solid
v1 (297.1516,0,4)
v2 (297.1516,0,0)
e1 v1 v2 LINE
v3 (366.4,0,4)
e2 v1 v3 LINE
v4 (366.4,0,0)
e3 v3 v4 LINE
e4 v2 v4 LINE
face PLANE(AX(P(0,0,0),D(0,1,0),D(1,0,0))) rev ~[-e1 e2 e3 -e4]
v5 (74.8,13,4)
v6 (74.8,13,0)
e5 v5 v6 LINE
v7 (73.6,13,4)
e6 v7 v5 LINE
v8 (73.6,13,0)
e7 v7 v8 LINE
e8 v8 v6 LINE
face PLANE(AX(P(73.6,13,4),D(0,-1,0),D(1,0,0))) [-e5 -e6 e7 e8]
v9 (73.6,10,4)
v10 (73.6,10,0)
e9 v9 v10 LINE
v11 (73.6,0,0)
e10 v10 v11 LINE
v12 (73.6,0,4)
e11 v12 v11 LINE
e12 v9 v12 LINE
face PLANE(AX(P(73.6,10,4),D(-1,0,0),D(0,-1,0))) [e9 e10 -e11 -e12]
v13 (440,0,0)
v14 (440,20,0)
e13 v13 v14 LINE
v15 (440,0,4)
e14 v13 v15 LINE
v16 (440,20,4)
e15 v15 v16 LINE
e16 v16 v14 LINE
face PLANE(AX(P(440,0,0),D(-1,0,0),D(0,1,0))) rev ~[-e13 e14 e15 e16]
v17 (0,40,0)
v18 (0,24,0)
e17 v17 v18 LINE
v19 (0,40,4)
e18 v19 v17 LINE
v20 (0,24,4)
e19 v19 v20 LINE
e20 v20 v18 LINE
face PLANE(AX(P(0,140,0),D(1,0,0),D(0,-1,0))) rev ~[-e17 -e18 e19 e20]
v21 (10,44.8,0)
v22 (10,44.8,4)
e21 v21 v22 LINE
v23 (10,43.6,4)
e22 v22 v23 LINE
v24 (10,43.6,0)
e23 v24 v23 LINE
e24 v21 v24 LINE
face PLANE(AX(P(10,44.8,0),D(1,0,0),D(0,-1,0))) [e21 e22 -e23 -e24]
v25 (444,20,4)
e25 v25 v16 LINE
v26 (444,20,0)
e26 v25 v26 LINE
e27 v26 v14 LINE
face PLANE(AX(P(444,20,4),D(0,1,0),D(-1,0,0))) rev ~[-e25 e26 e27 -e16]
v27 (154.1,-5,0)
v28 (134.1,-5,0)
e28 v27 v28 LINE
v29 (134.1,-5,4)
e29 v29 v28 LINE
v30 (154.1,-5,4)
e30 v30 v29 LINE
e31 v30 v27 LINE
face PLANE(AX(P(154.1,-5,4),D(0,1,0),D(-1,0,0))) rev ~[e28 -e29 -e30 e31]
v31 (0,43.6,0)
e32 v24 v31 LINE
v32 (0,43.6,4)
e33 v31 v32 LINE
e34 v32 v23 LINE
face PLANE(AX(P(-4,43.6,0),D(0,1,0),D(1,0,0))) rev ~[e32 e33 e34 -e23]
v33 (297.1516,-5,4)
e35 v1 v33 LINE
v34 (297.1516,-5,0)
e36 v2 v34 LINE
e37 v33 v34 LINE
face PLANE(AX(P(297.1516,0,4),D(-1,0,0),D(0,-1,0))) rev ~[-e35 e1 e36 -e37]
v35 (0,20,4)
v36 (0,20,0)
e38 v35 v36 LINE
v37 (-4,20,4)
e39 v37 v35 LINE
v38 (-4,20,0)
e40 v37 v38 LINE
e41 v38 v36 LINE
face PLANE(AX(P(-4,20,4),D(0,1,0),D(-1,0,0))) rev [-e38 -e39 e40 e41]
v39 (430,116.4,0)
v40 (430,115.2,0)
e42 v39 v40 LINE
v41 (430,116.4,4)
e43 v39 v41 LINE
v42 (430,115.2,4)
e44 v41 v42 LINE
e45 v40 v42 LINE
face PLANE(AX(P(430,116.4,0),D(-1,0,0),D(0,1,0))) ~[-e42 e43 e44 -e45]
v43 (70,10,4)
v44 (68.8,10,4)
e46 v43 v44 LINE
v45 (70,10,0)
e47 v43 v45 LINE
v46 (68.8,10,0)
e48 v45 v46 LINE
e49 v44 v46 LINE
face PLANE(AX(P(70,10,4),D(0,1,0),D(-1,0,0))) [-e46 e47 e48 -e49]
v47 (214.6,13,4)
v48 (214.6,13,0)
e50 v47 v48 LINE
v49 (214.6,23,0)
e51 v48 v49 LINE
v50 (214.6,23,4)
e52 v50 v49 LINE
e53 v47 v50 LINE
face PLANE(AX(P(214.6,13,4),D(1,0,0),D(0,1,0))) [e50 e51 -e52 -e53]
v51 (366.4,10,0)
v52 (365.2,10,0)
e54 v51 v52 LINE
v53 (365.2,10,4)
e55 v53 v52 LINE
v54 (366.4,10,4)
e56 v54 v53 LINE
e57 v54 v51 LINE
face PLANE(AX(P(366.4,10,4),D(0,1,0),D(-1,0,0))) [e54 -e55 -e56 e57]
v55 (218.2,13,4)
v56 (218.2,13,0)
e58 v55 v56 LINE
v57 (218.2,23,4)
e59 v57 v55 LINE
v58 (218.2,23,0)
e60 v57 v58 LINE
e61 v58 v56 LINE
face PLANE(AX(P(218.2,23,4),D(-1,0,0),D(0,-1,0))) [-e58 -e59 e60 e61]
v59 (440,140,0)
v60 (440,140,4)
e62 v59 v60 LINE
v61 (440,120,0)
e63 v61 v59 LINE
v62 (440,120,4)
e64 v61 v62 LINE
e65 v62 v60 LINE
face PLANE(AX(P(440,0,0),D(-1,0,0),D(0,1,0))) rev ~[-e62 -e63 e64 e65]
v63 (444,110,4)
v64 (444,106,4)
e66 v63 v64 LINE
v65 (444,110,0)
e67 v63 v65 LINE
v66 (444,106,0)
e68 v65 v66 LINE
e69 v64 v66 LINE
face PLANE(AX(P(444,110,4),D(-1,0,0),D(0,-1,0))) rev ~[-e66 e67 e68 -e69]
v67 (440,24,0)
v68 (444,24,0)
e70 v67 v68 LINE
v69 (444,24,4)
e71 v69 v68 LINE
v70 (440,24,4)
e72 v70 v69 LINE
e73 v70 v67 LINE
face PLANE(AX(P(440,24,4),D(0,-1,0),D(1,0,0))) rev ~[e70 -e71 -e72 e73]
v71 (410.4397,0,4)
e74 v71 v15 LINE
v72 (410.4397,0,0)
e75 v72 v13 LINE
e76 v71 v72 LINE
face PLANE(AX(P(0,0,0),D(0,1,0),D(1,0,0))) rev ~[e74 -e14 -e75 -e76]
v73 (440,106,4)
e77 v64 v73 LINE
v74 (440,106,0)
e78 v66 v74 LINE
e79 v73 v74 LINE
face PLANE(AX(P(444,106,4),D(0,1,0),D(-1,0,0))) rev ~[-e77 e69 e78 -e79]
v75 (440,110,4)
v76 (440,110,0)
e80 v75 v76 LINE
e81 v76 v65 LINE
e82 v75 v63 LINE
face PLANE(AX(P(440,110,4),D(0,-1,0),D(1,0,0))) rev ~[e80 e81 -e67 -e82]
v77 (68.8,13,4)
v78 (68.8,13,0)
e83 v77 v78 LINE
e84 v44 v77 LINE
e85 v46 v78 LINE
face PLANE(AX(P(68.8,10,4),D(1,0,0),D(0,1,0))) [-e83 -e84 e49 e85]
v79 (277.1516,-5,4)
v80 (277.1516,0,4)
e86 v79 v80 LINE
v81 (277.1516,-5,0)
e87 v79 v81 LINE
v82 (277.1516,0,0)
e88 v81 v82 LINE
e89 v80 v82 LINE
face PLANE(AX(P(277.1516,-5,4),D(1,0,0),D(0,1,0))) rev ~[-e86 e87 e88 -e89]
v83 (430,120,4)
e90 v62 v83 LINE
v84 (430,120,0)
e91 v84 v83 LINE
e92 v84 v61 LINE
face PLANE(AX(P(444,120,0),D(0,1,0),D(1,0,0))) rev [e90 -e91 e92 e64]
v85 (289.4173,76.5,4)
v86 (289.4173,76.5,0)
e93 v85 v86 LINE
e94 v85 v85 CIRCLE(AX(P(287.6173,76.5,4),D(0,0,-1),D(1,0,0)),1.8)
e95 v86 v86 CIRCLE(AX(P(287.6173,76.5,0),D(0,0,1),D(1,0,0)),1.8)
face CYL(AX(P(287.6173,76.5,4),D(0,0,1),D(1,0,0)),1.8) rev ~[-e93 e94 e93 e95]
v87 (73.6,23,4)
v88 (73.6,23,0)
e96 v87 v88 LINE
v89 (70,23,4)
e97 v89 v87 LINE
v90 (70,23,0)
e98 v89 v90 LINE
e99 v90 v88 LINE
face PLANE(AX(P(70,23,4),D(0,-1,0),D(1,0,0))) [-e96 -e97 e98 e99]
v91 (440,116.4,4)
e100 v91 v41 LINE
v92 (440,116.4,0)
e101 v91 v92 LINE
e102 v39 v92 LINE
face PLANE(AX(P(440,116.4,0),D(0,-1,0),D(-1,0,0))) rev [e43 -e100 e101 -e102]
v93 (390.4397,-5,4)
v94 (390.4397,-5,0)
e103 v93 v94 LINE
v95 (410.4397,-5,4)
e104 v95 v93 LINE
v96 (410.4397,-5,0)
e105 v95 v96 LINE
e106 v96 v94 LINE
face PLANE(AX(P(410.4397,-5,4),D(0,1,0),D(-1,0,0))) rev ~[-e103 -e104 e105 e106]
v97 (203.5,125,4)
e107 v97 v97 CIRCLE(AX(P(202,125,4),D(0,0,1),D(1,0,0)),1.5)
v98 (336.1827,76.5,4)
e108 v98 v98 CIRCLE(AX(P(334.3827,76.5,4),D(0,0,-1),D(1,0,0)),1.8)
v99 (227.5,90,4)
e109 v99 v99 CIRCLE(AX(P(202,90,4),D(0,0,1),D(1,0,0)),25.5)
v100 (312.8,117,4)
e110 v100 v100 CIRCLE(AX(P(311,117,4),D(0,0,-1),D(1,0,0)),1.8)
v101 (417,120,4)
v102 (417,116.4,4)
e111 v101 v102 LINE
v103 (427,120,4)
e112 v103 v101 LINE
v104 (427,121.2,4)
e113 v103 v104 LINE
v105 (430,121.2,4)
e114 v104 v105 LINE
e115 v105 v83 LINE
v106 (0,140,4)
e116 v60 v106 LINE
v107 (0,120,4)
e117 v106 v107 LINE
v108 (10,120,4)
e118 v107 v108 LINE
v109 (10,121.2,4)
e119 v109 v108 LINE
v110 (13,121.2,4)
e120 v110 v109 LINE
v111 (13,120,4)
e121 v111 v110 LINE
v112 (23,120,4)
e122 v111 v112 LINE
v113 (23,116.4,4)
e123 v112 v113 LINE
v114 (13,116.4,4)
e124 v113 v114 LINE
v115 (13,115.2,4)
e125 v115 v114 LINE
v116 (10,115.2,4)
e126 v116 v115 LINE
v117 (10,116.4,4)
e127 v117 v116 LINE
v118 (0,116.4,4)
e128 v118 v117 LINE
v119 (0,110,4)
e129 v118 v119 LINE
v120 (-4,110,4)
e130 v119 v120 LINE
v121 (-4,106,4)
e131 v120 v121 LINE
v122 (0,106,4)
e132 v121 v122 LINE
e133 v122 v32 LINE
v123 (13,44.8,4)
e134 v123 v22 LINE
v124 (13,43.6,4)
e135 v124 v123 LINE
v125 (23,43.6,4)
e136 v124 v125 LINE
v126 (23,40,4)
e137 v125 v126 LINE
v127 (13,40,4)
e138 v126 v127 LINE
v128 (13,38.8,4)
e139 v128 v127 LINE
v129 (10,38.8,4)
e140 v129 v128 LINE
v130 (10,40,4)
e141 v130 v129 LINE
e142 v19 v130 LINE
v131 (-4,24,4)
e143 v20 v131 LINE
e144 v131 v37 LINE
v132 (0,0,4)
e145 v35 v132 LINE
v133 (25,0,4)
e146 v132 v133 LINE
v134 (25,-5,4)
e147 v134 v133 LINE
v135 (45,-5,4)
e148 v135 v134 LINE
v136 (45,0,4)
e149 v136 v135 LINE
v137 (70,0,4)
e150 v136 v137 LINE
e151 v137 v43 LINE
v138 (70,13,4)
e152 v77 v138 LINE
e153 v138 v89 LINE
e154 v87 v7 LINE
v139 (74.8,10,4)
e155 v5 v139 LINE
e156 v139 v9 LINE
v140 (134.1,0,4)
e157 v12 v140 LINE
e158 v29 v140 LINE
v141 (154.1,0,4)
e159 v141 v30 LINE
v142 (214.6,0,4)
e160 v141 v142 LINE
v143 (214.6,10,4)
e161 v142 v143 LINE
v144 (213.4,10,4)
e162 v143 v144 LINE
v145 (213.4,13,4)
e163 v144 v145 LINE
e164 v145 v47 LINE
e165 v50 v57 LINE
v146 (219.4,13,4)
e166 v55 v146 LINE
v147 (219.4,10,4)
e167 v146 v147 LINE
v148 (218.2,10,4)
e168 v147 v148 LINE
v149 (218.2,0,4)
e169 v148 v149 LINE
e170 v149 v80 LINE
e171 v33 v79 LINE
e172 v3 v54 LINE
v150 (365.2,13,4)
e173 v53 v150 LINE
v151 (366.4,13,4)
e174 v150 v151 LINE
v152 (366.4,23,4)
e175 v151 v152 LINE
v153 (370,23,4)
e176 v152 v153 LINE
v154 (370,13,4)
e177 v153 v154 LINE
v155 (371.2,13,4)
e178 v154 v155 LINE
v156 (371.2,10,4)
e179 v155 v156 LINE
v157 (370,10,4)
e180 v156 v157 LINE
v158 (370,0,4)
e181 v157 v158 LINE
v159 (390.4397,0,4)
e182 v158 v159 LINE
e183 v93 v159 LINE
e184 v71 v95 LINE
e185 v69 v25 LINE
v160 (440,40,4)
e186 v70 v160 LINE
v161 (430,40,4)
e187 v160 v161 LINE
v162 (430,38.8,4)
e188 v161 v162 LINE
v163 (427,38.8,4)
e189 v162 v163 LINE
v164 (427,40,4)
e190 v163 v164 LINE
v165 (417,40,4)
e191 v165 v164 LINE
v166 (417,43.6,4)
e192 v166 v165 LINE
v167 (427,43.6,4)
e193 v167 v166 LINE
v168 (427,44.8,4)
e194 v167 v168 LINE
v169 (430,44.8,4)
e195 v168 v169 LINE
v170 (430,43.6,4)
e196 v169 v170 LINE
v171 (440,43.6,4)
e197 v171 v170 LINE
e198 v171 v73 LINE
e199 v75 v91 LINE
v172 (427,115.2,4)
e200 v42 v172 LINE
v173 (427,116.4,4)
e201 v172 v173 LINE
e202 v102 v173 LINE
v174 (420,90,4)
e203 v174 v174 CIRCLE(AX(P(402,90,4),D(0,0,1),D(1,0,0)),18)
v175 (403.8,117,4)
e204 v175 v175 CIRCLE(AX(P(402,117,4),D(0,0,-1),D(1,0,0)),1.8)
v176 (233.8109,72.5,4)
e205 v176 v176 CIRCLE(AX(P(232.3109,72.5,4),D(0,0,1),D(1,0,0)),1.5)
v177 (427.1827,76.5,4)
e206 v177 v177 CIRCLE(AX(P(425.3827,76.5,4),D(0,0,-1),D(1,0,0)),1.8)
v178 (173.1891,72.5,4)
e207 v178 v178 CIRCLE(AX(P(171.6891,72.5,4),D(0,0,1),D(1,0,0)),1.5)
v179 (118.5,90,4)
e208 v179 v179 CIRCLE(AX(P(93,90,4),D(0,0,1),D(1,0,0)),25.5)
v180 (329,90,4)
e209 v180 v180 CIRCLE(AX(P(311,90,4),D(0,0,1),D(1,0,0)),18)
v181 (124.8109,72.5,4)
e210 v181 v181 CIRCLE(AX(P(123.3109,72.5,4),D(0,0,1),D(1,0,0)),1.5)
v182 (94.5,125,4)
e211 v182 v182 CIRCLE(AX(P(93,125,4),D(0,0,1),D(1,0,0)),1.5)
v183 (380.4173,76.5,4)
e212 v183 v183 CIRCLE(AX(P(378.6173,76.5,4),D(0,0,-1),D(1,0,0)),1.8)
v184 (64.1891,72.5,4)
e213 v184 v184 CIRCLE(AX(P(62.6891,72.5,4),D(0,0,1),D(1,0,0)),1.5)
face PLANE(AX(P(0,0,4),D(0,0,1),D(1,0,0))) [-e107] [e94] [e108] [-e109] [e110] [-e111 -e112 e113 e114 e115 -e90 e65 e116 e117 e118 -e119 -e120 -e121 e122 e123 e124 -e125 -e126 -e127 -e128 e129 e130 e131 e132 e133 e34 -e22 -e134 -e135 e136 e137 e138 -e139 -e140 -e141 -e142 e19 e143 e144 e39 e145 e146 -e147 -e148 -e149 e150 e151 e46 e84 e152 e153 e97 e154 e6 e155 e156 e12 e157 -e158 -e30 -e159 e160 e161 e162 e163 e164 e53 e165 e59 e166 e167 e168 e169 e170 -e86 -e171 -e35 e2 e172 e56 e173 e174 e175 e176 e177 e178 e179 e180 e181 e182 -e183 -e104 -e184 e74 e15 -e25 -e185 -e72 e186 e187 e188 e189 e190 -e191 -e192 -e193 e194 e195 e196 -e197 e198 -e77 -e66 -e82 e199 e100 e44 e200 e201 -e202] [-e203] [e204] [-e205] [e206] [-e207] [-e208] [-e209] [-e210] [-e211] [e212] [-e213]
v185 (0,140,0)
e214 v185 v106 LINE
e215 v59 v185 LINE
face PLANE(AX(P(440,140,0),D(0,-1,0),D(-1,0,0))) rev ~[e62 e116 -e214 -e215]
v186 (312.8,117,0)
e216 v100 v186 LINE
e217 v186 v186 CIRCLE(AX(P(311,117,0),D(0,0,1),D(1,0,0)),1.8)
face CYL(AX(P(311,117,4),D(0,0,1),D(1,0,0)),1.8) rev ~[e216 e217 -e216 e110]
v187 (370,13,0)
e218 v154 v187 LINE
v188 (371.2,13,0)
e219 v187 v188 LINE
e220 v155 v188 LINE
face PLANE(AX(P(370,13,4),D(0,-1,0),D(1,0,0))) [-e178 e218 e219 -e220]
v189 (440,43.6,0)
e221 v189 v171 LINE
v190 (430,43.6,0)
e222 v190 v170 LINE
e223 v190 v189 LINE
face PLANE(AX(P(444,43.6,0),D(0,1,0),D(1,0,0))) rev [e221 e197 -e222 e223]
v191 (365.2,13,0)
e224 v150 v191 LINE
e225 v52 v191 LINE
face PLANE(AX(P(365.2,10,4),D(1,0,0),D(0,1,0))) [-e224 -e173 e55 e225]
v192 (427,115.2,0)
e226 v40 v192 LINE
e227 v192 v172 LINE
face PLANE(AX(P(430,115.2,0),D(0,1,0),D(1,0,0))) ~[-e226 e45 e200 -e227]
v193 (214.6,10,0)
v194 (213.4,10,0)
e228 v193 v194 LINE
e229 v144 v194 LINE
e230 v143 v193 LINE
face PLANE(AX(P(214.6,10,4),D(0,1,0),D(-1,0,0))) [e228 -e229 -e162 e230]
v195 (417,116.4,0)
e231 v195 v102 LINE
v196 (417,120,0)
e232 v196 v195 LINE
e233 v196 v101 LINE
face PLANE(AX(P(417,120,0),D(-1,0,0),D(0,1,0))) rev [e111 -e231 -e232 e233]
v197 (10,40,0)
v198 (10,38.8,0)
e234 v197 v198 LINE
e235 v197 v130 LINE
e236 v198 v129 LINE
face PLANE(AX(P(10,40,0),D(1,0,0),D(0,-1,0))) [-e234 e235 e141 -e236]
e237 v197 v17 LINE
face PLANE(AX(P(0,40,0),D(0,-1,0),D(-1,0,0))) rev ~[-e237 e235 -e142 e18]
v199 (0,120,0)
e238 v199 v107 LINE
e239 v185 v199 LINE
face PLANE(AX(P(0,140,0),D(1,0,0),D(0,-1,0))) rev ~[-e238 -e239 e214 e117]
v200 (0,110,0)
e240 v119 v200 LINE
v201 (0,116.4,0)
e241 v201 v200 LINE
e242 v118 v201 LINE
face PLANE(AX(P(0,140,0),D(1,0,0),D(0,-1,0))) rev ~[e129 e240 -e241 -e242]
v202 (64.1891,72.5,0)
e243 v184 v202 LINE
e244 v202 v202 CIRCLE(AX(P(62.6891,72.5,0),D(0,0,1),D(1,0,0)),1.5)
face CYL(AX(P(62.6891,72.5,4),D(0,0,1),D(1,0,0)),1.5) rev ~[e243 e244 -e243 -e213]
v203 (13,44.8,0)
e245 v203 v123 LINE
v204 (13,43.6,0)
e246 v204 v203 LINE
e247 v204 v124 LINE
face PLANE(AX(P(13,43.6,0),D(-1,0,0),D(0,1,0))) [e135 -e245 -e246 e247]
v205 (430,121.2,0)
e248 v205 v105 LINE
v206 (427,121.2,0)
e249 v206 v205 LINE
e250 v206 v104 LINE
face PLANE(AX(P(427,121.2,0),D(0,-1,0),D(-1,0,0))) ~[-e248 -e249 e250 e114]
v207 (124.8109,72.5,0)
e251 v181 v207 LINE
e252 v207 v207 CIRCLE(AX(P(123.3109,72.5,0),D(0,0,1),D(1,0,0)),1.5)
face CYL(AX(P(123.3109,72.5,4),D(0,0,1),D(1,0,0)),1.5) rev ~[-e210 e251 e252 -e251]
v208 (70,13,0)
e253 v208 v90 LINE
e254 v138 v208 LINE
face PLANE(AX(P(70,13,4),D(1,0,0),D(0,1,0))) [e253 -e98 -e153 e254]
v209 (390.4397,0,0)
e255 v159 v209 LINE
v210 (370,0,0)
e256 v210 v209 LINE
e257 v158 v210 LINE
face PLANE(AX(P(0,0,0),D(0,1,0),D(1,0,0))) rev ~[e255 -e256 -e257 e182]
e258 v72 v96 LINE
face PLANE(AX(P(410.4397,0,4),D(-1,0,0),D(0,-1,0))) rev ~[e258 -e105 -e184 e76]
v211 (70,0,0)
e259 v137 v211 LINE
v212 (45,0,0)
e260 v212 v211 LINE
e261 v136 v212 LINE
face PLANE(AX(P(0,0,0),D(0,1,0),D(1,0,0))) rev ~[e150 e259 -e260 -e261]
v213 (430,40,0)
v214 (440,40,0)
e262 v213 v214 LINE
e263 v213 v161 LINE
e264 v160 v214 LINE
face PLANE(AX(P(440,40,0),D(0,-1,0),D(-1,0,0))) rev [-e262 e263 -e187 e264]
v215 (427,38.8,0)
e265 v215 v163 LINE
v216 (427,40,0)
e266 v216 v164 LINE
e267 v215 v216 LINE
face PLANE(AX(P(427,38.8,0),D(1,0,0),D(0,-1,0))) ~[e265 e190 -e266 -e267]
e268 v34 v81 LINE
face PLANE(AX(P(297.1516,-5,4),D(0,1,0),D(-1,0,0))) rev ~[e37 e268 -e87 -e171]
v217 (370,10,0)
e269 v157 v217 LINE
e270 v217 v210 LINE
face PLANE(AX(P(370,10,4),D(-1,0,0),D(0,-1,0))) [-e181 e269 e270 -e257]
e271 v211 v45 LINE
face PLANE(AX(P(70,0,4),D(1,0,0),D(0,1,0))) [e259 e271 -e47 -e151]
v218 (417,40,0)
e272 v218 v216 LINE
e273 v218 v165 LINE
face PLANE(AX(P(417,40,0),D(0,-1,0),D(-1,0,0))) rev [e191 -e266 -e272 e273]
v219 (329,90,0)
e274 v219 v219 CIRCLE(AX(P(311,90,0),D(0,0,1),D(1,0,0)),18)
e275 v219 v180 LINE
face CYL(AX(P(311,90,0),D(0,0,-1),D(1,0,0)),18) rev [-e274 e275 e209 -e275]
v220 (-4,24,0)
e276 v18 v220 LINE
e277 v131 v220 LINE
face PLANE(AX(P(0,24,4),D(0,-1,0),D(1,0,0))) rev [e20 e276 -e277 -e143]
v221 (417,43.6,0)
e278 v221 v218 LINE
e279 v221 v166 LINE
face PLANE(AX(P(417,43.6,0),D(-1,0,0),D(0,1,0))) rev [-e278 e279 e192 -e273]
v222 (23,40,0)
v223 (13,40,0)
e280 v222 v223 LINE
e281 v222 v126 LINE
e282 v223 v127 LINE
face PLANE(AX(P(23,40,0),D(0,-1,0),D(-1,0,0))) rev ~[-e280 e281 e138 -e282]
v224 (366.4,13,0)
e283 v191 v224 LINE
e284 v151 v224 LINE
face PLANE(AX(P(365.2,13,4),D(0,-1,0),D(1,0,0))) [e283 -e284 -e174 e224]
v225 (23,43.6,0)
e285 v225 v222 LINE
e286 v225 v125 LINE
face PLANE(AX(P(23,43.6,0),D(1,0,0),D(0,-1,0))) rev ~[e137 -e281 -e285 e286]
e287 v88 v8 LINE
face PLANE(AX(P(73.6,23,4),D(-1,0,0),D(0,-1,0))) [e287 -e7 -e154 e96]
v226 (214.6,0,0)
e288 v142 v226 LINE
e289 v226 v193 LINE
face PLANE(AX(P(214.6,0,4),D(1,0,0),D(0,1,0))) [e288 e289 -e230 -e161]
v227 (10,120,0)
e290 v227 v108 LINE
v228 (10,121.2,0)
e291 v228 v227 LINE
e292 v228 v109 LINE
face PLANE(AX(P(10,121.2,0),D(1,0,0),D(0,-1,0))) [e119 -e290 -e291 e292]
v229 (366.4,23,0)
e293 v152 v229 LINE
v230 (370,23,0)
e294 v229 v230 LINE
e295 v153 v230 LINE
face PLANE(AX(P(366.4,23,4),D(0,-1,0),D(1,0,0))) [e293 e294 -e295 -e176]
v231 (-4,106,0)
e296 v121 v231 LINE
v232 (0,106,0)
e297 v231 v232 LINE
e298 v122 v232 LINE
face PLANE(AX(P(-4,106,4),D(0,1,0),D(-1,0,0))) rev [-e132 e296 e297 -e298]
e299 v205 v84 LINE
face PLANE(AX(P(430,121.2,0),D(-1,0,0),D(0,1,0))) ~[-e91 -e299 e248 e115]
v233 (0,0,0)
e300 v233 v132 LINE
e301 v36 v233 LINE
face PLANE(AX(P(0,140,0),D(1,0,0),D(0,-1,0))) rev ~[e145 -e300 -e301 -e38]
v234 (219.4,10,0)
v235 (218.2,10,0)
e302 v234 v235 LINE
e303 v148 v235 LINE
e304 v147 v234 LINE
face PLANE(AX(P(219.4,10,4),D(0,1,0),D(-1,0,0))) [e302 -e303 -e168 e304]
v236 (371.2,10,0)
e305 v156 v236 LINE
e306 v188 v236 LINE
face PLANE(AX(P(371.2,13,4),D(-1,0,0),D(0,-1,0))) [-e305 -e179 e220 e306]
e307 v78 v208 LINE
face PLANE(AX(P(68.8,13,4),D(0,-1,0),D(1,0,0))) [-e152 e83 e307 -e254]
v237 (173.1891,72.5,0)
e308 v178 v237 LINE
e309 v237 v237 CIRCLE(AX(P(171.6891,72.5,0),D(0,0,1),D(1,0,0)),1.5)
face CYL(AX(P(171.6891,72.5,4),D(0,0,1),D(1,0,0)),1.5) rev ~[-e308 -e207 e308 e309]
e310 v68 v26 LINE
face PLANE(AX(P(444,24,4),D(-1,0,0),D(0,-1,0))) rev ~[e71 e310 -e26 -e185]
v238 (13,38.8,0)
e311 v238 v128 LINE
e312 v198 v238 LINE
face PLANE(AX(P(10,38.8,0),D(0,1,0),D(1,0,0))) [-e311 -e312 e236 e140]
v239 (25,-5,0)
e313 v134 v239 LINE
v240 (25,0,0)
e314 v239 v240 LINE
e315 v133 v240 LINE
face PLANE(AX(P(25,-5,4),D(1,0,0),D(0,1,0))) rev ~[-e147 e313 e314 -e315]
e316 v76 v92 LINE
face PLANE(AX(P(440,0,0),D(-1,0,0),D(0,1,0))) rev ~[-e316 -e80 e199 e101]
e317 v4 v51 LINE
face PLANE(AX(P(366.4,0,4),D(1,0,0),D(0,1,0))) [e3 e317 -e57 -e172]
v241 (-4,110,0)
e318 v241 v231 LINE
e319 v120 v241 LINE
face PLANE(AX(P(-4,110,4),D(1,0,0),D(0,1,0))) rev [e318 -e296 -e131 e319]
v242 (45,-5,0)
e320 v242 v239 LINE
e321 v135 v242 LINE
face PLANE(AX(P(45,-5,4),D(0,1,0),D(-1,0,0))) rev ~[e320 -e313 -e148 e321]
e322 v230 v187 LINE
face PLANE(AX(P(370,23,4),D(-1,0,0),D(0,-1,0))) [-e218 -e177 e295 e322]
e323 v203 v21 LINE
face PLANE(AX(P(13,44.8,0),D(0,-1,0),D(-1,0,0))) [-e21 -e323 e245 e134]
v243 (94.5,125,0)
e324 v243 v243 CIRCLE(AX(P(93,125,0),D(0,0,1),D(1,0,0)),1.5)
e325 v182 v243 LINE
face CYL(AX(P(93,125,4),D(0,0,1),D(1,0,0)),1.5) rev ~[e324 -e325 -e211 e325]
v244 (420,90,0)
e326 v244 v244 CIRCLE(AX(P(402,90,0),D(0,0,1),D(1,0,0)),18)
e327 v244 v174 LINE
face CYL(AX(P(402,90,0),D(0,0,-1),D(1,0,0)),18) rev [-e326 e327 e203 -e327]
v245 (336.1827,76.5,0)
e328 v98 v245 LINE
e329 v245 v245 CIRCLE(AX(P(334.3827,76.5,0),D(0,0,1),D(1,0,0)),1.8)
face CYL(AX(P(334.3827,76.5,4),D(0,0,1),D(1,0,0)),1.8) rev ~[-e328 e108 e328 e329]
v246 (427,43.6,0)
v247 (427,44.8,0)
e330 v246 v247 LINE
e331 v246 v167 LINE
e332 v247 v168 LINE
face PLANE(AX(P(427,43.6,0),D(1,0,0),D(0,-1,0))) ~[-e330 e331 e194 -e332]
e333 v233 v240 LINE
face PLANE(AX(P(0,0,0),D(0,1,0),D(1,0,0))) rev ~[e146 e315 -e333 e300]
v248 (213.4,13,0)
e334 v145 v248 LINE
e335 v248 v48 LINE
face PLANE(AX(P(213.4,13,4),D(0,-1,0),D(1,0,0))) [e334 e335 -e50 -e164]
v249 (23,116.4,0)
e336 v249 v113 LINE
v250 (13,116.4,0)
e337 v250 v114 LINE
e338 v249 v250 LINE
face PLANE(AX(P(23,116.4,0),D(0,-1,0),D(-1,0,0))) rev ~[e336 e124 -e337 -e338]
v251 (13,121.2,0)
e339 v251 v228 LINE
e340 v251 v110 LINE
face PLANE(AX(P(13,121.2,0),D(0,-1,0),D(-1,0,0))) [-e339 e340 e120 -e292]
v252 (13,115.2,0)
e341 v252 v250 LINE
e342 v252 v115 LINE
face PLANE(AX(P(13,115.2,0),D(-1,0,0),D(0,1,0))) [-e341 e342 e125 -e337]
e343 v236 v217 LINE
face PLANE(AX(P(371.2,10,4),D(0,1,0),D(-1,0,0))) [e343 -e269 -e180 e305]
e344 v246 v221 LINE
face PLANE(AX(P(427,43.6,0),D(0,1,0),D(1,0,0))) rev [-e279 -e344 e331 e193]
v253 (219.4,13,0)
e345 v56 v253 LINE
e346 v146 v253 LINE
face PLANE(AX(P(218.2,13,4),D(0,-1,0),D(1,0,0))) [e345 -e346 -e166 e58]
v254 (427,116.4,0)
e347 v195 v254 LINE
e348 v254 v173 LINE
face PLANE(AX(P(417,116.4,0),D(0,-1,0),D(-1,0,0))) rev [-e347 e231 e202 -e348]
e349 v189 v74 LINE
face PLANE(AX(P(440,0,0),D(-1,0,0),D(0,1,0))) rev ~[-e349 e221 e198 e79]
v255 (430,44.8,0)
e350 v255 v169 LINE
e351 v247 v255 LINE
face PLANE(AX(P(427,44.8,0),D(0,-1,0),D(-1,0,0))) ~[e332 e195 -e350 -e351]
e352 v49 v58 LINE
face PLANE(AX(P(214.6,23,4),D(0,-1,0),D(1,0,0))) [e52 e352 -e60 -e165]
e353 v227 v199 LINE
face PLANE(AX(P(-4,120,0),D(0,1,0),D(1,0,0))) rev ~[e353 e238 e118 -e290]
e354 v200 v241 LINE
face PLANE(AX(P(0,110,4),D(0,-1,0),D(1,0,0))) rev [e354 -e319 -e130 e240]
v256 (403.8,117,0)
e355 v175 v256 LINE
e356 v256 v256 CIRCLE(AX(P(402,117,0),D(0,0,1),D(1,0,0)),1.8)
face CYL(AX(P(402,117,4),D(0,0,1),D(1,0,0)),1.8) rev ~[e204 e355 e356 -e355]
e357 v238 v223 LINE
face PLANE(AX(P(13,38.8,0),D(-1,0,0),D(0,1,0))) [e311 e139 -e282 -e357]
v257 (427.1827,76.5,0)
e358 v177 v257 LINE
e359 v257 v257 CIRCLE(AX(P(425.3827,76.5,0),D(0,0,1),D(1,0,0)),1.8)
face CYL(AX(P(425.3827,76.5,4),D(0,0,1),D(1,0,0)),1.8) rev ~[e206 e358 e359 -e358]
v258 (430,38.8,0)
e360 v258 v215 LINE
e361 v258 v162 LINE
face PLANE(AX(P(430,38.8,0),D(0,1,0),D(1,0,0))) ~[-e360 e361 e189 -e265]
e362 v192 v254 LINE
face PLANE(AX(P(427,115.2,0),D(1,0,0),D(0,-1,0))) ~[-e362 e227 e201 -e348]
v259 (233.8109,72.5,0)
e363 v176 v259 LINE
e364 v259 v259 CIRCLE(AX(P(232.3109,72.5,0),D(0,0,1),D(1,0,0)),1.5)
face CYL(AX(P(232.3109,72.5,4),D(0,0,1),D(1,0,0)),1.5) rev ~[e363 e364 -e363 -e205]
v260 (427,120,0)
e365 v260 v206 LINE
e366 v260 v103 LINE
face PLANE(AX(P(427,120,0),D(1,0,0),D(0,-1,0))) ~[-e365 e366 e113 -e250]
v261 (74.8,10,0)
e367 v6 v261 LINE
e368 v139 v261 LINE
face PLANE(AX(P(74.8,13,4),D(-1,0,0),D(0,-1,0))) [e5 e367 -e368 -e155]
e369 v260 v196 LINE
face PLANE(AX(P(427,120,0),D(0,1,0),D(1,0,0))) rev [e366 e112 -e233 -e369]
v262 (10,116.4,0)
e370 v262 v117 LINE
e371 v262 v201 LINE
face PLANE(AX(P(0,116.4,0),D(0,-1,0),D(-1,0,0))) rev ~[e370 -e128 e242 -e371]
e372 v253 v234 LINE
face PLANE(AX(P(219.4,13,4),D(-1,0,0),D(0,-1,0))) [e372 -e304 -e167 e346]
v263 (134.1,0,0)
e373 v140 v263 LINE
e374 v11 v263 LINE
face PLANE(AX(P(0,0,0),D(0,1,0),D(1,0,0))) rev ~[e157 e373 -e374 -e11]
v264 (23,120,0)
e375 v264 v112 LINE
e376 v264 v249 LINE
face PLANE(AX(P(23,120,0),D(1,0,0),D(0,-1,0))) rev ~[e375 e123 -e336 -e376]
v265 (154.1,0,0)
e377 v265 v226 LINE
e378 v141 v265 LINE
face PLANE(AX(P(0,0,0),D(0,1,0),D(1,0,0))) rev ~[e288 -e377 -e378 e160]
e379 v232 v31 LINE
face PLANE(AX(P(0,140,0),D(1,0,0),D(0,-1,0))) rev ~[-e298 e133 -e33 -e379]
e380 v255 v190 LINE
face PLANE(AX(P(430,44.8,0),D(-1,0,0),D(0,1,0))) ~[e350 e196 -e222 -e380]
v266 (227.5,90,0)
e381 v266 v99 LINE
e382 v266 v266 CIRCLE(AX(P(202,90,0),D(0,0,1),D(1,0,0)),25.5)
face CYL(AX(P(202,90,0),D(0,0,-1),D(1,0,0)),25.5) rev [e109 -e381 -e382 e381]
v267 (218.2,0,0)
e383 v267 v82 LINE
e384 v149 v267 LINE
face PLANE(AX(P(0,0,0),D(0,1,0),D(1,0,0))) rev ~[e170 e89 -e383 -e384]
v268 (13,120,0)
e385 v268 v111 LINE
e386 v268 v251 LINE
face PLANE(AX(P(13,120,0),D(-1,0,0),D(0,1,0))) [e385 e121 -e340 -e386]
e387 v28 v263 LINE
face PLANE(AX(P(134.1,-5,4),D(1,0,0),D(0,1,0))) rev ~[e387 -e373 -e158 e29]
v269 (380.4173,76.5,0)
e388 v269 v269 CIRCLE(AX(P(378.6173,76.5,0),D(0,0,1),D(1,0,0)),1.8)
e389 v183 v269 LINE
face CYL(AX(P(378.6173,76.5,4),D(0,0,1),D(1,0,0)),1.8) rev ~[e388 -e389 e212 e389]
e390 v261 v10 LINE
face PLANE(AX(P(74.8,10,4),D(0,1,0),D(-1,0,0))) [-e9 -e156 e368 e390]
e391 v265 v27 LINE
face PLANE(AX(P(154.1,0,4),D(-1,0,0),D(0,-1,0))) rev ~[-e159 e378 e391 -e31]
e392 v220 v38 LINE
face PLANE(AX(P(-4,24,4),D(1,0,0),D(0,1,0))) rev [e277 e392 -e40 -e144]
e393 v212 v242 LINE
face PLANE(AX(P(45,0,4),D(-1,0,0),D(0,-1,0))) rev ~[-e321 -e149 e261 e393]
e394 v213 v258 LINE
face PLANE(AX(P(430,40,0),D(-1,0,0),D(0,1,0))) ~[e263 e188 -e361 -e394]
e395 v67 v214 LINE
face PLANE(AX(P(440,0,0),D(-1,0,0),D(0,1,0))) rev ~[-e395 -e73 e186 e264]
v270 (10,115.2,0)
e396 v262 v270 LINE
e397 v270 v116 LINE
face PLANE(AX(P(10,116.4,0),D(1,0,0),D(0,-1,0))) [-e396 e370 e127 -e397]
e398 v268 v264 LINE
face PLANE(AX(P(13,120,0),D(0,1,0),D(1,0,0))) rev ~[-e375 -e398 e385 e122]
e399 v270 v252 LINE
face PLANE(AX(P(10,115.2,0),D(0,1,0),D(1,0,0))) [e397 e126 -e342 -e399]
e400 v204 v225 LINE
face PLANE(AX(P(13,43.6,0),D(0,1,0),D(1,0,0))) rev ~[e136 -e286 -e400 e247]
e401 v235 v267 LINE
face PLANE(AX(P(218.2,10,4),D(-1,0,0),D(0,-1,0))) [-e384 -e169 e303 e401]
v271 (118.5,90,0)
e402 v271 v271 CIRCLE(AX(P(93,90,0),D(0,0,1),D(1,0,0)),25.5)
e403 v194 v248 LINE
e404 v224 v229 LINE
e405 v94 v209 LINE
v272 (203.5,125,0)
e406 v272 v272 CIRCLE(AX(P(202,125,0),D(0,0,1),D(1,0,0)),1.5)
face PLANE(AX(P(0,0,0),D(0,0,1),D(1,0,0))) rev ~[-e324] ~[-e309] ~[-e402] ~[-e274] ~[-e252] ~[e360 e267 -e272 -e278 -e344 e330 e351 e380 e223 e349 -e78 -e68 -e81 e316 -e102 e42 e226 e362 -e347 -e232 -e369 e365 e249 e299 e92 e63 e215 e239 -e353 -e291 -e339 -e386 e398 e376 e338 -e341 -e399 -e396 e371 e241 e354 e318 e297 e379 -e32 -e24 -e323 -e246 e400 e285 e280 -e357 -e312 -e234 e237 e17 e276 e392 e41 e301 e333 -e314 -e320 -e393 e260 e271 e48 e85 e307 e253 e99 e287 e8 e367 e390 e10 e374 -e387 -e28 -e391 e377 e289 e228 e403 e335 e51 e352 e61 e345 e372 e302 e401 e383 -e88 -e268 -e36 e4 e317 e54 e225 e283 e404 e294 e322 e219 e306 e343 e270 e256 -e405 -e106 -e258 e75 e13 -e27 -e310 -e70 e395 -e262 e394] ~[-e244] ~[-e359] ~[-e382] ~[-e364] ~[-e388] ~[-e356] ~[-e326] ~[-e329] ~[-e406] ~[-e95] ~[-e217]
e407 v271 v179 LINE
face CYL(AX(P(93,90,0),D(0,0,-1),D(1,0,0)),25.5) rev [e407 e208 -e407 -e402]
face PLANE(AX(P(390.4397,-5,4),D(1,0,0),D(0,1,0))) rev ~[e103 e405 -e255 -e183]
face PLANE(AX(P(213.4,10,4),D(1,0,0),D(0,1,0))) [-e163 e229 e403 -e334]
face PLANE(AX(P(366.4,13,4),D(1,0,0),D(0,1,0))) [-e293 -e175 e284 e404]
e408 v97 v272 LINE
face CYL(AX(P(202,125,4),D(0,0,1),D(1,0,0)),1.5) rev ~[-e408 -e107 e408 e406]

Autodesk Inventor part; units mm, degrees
sketch "Sketch1" plane through (0, 0, 0) normal (0, 0, 1) x (1, 0, 0)
  line L0 (440, 140) -> (0, 140)
  line L1 (0, 140) -> (0, 0)
  line L2 (0, 0) -> (440, 0)
  line L3 (440, 0) -> (440, 140)
  circle A0 centre (402, 90) radius 18
  circle A1 centre (311, 90) radius 18
  circle A2 centre (202, 90) radius 25.5
  circle A3 centre (93, 90) radius 25.5
  point P0 (0, 0)
extrude "Extrusion1" add sketch "Sketch1" along normal blind 4
sketch "Sketch2" plane through (0, 0, 0) normal (0, 0, -1) x (-1, 0, 0)
  circle A0 centre (-93, 90) radius 25.5 projected
  circle A1 centre (-202, 90) radius 25.5 projected
  circle A2 centre (-311, 90) radius 18 projected
  circle A3 centre (-402, 90) radius 18 projected
  line L0 (-440, 140) -> (0, 140) projected
  line L1 (0, 140) -> (0, 0) projected
  line L2 (0, 0) -> (-440, 0) projected
  line L3 (-440, 0) -> (-440, 140) projected
  line L4 (0, 140) -> (4, 140)
  line L5 (4, 7.7) -> (0, 7.7)
  line L6 (4, 120) -> (-23, 120)
  line L7 (-23, 120) -> (-23, 116.4)
  line L8 (-23, 116.4) -> (4, 116.4)
  line L9 (4, 116.4) -> (4, 120)
  line L10 (-10, 115.2) -> (-13, 115.2)
  line L11 (-13, 115.2) -> (-13, 121.2)
  line L12 (-13, 121.2) -> (-10, 121.2)
  line L13 (-10, 121.2) -> (-10, 115.2)
  line L14 (-10, 115.2) -> (-13, 121.2) construction
  line L15 (-13, 115.2) -> (-10, 121.2) construction
  line L16 (4, 43.6) -> (-23, 43.6)
  line L17 (-23, 43.6) -> (-23, 40)
  line L18 (-23, 40) -> (4, 40)
  line L19 (4, 40) -> (4, 43.6)
  line L20 (-10, 38.8) -> (-13, 38.8)
  line L21 (-13, 38.8) -> (-13, 44.8)
  line L22 (-13, 44.8) -> (-10, 44.8)
  line L23 (-10, 44.8) -> (-10, 38.8)
  line L24 (-10, 38.8) -> (-13, 44.8) construction
  line L25 (-13, 38.8) -> (-10, 44.8) construction
  line L26 (4, 140) -> (4, 116.4)
  line L27 (4, 43.6) -> (4, 40)
  line L28 (0, 7.7) -> (0, 40)
  point P0 (-11.5, 118.2)
  point P1 (-11.5, 41.8)
  point P2 (0, 116.4)
  point P3 (0, 43.6)
  dimension "d2" = 4
  dimension "d3" = 27
  dimension "d4" = 3.6
  dimension "d5" = 3
  dimension "d6" = 6
  dimension "d7" = 10
  dimension "d8" = 140
  dimension "d9" = 20
  dimension "d15" = 27
  dimension "d17" = 3
  dimension "d18" = 6
  dimension "d22" = 40
  dimension "d23" = 3.6
ref_plane "Work Plane2" through (220, 0, 0) normal (1, 0, 0) x (0, 0, -1)
extrude "Extrusion3" cut sketch "Sketch2" against normal blind 4 contours L6 L9 L8 L1 | L1 L8 L13 L6 | L13 L8 L11 L6 | L6 L11 L12 L13 | L16 L19 L18 L1 | L1 L18 L23 L16 | L13 L10 L11 L8 | L11 L8 L7 L6 | L23 L18 L21 L16 | L16 L21 L22 L23 | L23 L20 L21 L18 | L21 L18 L17 L16
ref_plane "Work Plane3" through (220, 140, 0) normal (-1, 0, 0) x (0, 0, 1)
mirror "Mirror2" about plane through (220, 140, 0) normal (-1, 0, 0) of "Extrusion3"
sketch "Sketch3" plane through (0, 0, 4) normal (0, 0, 1) x (1, 0, 0)
  line L0 (440, 140) -> (0, 140) projected
  line L1 (430, 43.6) -> (440, 43.6) projected
  line L2 (440, 43.6) -> (440, 116.4) projected
  line L3 (440, 116.4) -> (430, 116.4) projected
  line L4 (430, 116.4) -> (430, 115.2) projected
  line L5 (430, 115.2) -> (427, 115.2) projected
  line L6 (427, 115.2) -> (427, 116.4) projected
  line L7 (427, 116.4) -> (417, 116.4) projected
  line L8 (417, 116.4) -> (417, 120) projected
  line L9 (417, 120) -> (427, 120) projected
  line L10 (427, 120) -> (427, 121.2) projected
  line L11 (427, 121.2) -> (430, 121.2) projected
  line L12 (430, 121.2) -> (430, 120) projected
  line L13 (430, 120) -> (440, 120) projected
  line L14 (440, 120) -> (440, 140) projected
  line L15 (440, 140) -> (0, 140) projected
  line L16 (0, 140) -> (0, 120) projected
  line L17 (0, 120) -> (10, 120) projected
  line L18 (10, 120) -> (10, 121.2) projected
  line L19 (10, 121.2) -> (13, 121.2) projected
  line L20 (13, 121.2) -> (13, 120) projected
  line L21 (13, 120) -> (23, 120) projected
  line L22 (23, 120) -> (23, 116.4) projected
  line L23 (23, 116.4) -> (13, 116.4) projected
  line L24 (13, 116.4) -> (13, 115.2) projected
  line L25 (13, 115.2) -> (10, 115.2) projected
  line L26 (10, 115.2) -> (10, 116.4) projected
  line L27 (10, 116.4) -> (0, 116.4) projected
  line L28 (0, 116.4) -> (0, 43.6) projected
  line L29 (0, 43.6) -> (10, 43.6) projected
  line L30 (10, 43.6) -> (10, 44.8) projected
  line L31 (10, 44.8) -> (13, 44.8) projected
  line L32 (13, 44.8) -> (13, 43.6) projected
  line L33 (13, 43.6) -> (23, 43.6) projected
  line L34 (23, 43.6) -> (23, 40) projected
  line L35 (23, 40) -> (13, 40) projected
  line L36 (13, 40) -> (13, 38.8) projected
  line L37 (13, 38.8) -> (10, 38.8) projected
  line L38 (10, 38.8) -> (10, 40) projected
  line L39 (10, 40) -> (0, 40) projected
  line L40 (0, 40) -> (0, 0) projected
  line L41 (0, 0) -> (440, 0) projected
  line L42 (440, 0) -> (440, 40) projected
  line L43 (440, 40) -> (430, 40) projected
  line L44 (430, 40) -> (430, 38.8) projected
  line L45 (430, 38.8) -> (427, 38.8) projected
  line L46 (427, 38.8) -> (427, 40) projected
  line L47 (427, 40) -> (417, 40) projected
  line L48 (417, 40) -> (417, 43.6) projected
  line L49 (417, 43.6) -> (427, 43.6) projected
  line L50 (427, 43.6) -> (427, 44.8) projected
  line L51 (427, 44.8) -> (430, 44.8) projected
  line L52 (430, 44.8) -> (430, 43.6) projected
  circle A0 centre (93, 90) radius 25.5 projected
  circle A1 centre (202, 90) radius 25.5 projected
  circle A2 centre (311, 90) radius 18 projected
  circle A3 centre (402, 90) radius 18 projected
  line L53 (440, 110) -> (444, 110)
  line L54 (444, 110) -> (444, 106)
  line L55 (444, 106) -> (440, 106)
  line L56 (440, 106) -> (440, 110)
  line L57 (440, 24) -> (444, 24)
  line L58 (444, 24) -> (444, 20)
  line L59 (444, 20) -> (440, 20)
  line L60 (440, 20) -> (440, 24)
  point P0 (0, 0)
  dimension "d26" = 4
  dimension "d27" = 4
  dimension "d28" = 4
  dimension "d29" = 4
  dimension "d30" = 20
  dimension "d31" = 30
extrude "Extrusion4" add sketch "Sketch3" against normal blind 4 contours L53 L54 L55 L2 | L57 L58 L59 L42
ref_plane "Work Plane4" through (220, 43.6, 4) normal (1, 0, 0) x (0, 0, -1)
mirror "Mirror3" about plane through (220, 43.6, 4) normal (1, 0, 0) of "Extrusion4"
sketch "Sketch4" plane through (0, 0, 4) normal (0, 0, 1) x (1, 0, 0)
  line L0 (430, 43.6) -> (440, 43.6) projected
  line L1 (440, 43.6) -> (440, 106) projected
  line L2 (440, 106) -> (444, 106) projected
  line L3 (444, 106) -> (444, 110) projected
  line L4 (444, 110) -> (440, 110) projected
  line L5 (440, 110) -> (440, 116.4) projected
  line L6 (440, 116.4) -> (430, 116.4) projected
  line L7 (430, 116.4) -> (430, 115.2) projected
  line L8 (430, 115.2) -> (427, 115.2) projected
  line L9 (427, 115.2) -> (427, 116.4) projected
  line L10 (427, 116.4) -> (417, 116.4) projected
  line L11 (417, 116.4) -> (417, 120) projected
  line L12 (417, 120) -> (427, 120) projected
  line L13 (427, 120) -> (427, 121.2) projected
  line L14 (427, 121.2) -> (430, 121.2) projected
  line L15 (430, 121.2) -> (430, 120) projected
  line L16 (430, 120) -> (440, 120) projected
  line L17 (440, 120) -> (440, 140) projected
  line L18 (440, 140) -> (0, 140) projected
  line L19 (0, 140) -> (0, 120) projected
  line L20 (0, 120) -> (10, 120) projected
  line L21 (10, 120) -> (10, 121.2) projected
  line L22 (10, 121.2) -> (13, 121.2) projected
  line L23 (13, 121.2) -> (13, 120) projected
  line L24 (13, 120) -> (23, 120) projected
  line L25 (23, 120) -> (23, 116.4) projected
  line L26 (23, 116.4) -> (13, 116.4) projected
  line L27 (13, 116.4) -> (13, 115.2) projected
  line L28 (13, 115.2) -> (10, 115.2) projected
  line L29 (10, 115.2) -> (10, 116.4) projected
  line L30 (10, 116.4) -> (0, 116.4) projected
  line L31 (0, 116.4) -> (0, 110) projected
  line L32 (-4, 110) -> (0, 110) projected
  line L33 (-4, 106) -> (-4, 110) projected
  line L34 (0, 106) -> (-4, 106) projected
  line L35 (0, 106) -> (0, 43.6) projected
  line L36 (0, 43.6) -> (10, 43.6) projected
  line L37 (10, 43.6) -> (10, 44.8) projected
  line L38 (10, 44.8) -> (13, 44.8) projected
  line L39 (13, 44.8) -> (13, 43.6) projected
  line L40 (13, 43.6) -> (23, 43.6) projected
  line L41 (23, 43.6) -> (23, 40) projected
  line L42 (23, 40) -> (13, 40) projected
  line L43 (13, 40) -> (13, 38.8) projected
  line L44 (13, 38.8) -> (10, 38.8) projected
  line L45 (10, 38.8) -> (10, 40) projected
  line L46 (10, 40) -> (0, 40) projected
  line L47 (0, 40) -> (0, 24) projected
  line L48 (-4, 24) -> (0, 24) projected
  line L49 (-4, 20) -> (-4, 24) projected
  line L50 (0, 20) -> (-4, 20) projected
  line L51 (0, 20) -> (0, 0) projected
  line L52 (0, 0) -> (440, 0) projected
  line L53 (440, 0) -> (440, 20) projected
  line L54 (440, 20) -> (444, 20) projected
  line L55 (444, 20) -> (444, 24) projected
  line L56 (444, 24) -> (440, 24) projected
  line L57 (440, 24) -> (440, 40) projected
  line L58 (440, 40) -> (430, 40) projected
  line L59 (430, 40) -> (430, 38.8) projected
  line L60 (430, 38.8) -> (427, 38.8) projected
  line L61 (427, 38.8) -> (427, 40) projected
  line L62 (427, 40) -> (417, 40) projected
  line L63 (417, 40) -> (417, 43.6) projected
  line L64 (417, 43.6) -> (427, 43.6) projected
  line L65 (427, 43.6) -> (427, 44.8) projected
  line L66 (427, 44.8) -> (430, 44.8) projected
  line L67 (430, 44.8) -> (430, 43.6) projected
  circle A0 centre (93, 90) radius 25.5 projected
  circle A1 centre (202, 90) radius 25.5 projected
  circle A2 centre (311, 90) radius 18 projected
  circle A3 centre (402, 90) radius 18 projected
  line L68 (0, 43.6) -> (10, 43.6) projected
  line L69 (0, 43.6) -> (10, 43.6)
  line L70 (10, 44.8) -> (13, 44.8) projected
  line L71 (10, 43.6) -> (10, 44.8)
  line L72 (10, 44.8) -> (13, 44.8)
  line L73 (13, 43.6) -> (13, 44.8) projected
  line L74 (13, 44.8) -> (13, 43.6)
  line L75 (13, 43.6) -> (23, 43.6)
  line L76 (23, 40) -> (13, 40)
  line L77 (13, 38.8) -> (10, 38.8) projected
  line L78 (13, 38.8) -> (10, 38.8)
  line L79 (10, 40) -> (10, 38.8) projected
  line L80 (10, 38.8) -> (10, 40)
  line L81 (0, 40) -> (10, 40) projected
  line L82 (10, 40) -> (0, 40)
  line L83 (0, 40) -> (0, 43.6)
  line L84 (13, 43.6) -> (23, 43.6) projected
  line L85 (23, 43.6) -> (23, 40) projected
  line L86 (23, 43.6) -> (23, 40)
  line L87 (13, 40) -> (13, 38.8) projected
  line L88 (13, 40) -> (13, 38.8)
  line L89 (70, 0) -> (70, 10)
  line L90 (70, 10) -> (68.8, 10)
  line L91 (68.8, 10) -> (68.8, 13)
  line L92 (68.8, 13) -> (70, 13)
  line L93 (70, 13) -> (70, 23)
  line L94 (73.6, 23) -> (73.6, 13)
  line L95 (74.8, 13) -> (74.8, 10)
  line L96 (74.8, 10) -> (73.6, 10)
  line L97 (73.6, 10) -> (73.6, 0)
  line L98 (73.6, 0) -> (70, 0)
  line L99 (70, 23) -> (73.6, 23)
  line L100 (73.6, 13) -> (74.8, 13)
  line L101 (0, 0) -> (440, 0) projected
  line L102 (366.4, 13) -> (366.4, 23)
  line L103 (365.2, 13) -> (366.4, 13)
  line L104 (366.4, 23) -> (370, 23)
  line L105 (370, 23) -> (370, 13)
  line L106 (370, 13) -> (371.2, 13)
  line L107 (366.4, 10) -> (365.2, 10)
  line L108 (365.2, 10) -> (365.2, 13)
  line L109 (371.2, 13) -> (371.2, 10)
  line L110 (371.2, 10) -> (370, 10)
  line L111 (366.4, 0) -> (366.4, 10)
  line L112 (370, 10) -> (370, 0)
  line L113 (370, 0) -> (366.4, 0)
  line L114 (214.6, 13) -> (214.6, 23)
  line L115 (213.4, 13) -> (214.6, 13)
  line L116 (214.6, 23) -> (218.2, 23)
  line L117 (218.2, 23) -> (218.2, 13)
  line L118 (218.2, 13) -> (219.4, 13)
  line L119 (214.6, 10) -> (213.4, 10)
  line L120 (213.4, 10) -> (213.4, 13)
  line L121 (219.4, 13) -> (219.4, 10)
  line L122 (219.4, 10) -> (218.2, 10)
  line L123 (214.6, 0) -> (214.6, 10)
  line L124 (218.2, 10) -> (218.2, 0)
  line L125 (218.2, 0) -> (214.6, 0)
  point P0 (76.7802, 0)
  point P1 (374.5646, 0)
  point P2 (209.3918, 0)
  dimension "d34" = 70
  dimension "d35" = 3.6
  dimension "d36" = 3.6
  dimension "d37" = 6
  dimension "d38" = 1.2
  dimension "d39" = 3
  dimension "d40" = 1.2
  dimension "d41" = 3.6
  dimension "d42" = 3.6
  dimension "d43" = 6
  dimension "d44" = 1.2
  dimension "d45" = 3
  dimension "d46" = 1.2
  dimension "d47" = 3.6
  dimension "d48" = 3.6
  dimension "d49" = 6
  dimension "d50" = 1.2
  dimension "d51" = 3
  dimension "d52" = 1.2
  dimension "d53" = 70
  dimension "d54" = 440
  dimension "d55" = 221.8
extrude "Extrusion5" cut sketch "Sketch4" against normal blind 10 contours L52 L111 L107 L108 L103 L102 L104 L105 L106 L109 L110 L112 | L52 L123 L119 L120 L115 L114 L116 L117 L118 L121 L122 L124 | L52 L89 L90 L91 L92 L93 L99 L94 L100 L95 L96 L97
sketch "Sketch5" plane through (0, 0, 4) normal (0, 0, 1) x (1, 0, 0)
  line L0 (0, 0) -> (70, 0) projected
  line L1 (25, 0) -> (45, 0)
  line L2 (45, 0) -> (45, -5)
  line L3 (45, -5) -> (25, -5)
  line L4 (25, -5) -> (25, 0)
  line L5 (73.6, 0) -> (214.6, 0) projected
  line L6 (134.1, 0) -> (154.1, 0)
  line L7 (154.1, 0) -> (154.1, -5)
  line L8 (154.1, -5) -> (134.1, -5)
  line L9 (134.1, -5) -> (134.1, 0)
  line L10 (218.2, 0) -> (366.4, 0) projected
  line L11 (277.1516, 0) -> (297.1516, 0)
  line L12 (297.1516, 0) -> (297.1516, -5)
  line L13 (297.1516, -5) -> (277.1516, -5)
  line L14 (277.1516, -5) -> (277.1516, 0)
  line L15 (370, 0) -> (440, 0) projected
  line L16 (390.4397, 0) -> (410.4397, 0)
  line L17 (410.4397, 0) -> (410.4397, -5)
  line L18 (410.4397, -5) -> (390.4397, -5)
  line L19 (390.4397, -5) -> (390.4397, 0)
  line L20 (0, 20) -> (0, 0) projected
  line L21 (73.6, 10) -> (73.6, 0) projected
  line L22 (214.6, 0) -> (214.6, 10) projected
  line L23 (366.4, 0) -> (366.4, 10) projected
  line L24 (218.2, 10) -> (218.2, 0) projected
  dimension "d58" = 20
  dimension "d59" = 5
  dimension "d60" = 20
  dimension "d61" = 5
  dimension "d62" = 20
  dimension "d63" = 5
  dimension "d64" = 20
  dimension "d65" = 5
  dimension "d66" = 25
  dimension "d67" = 60.5
  dimension "d68" = 141
  dimension "d69" = 148.2
extrude "Extrusion6" add sketch "Sketch5" against normal blind 4
sketch "Boceto7" plane through (0, 0, 4) normal (0, 0, 1) x (1, 0, 0)
  line L0 (370, 10) -> (370, 0) projected
  line L1 (370, 0) -> (390.4397, 0) projected
  line L2 (390.4397, -5) -> (390.4397, 0) projected
  line L3 (410.4397, -5) -> (390.4397, -5) projected
  line L4 (410.4397, 0) -> (410.4397, -5) projected
  line L5 (410.4397, 0) -> (440, 0) projected
  line L6 (440, 0) -> (440, 20) projected
  line L7 (440, 20) -> (444, 20) projected
  line L8 (444, 20) -> (444, 24) projected
  line L9 (444, 24) -> (440, 24) projected
  line L10 (440, 24) -> (440, 40) projected
  line L11 (440, 40) -> (430, 40) projected
  line L12 (430, 40) -> (430, 38.8) projected
  line L13 (430, 38.8) -> (427, 38.8) projected
  line L14 (427, 38.8) -> (427, 40) projected
  line L15 (427, 40) -> (417, 40) projected
  line L16 (417, 40) -> (417, 43.6) projected
  line L17 (417, 43.6) -> (427, 43.6) projected
  line L18 (427, 43.6) -> (427, 44.8) projected
  line L19 (427, 44.8) -> (430, 44.8) projected
  line L20 (430, 44.8) -> (430, 43.6) projected
  line L21 (430, 43.6) -> (440, 43.6) projected
  line L22 (440, 43.6) -> (440, 106) projected
  line L23 (440, 106) -> (444, 106) projected
  line L24 (444, 106) -> (444, 110) projected
  line L25 (444, 110) -> (440, 110) projected
  line L26 (440, 110) -> (440, 116.4) projected
  line L27 (440, 116.4) -> (430, 116.4) projected
  line L28 (430, 116.4) -> (430, 115.2) projected
  line L29 (430, 115.2) -> (427, 115.2) projected
  line L30 (427, 115.2) -> (427, 116.4) projected
  line L31 (427, 116.4) -> (417, 116.4) projected
  line L32 (417, 116.4) -> (417, 120) projected
  line L33 (417, 120) -> (427, 120) projected
  line L34 (427, 120) -> (427, 121.2) projected
  line L35 (427, 121.2) -> (430, 121.2) projected
  line L36 (430, 121.2) -> (430, 120) projected
  line L37 (430, 120) -> (440, 120) projected
  line L38 (440, 120) -> (440, 140) projected
  line L39 (440, 140) -> (0, 140) projected
  line L40 (0, 140) -> (0, 120) projected
  line L41 (0, 120) -> (10, 120) projected
  line L42 (10, 120) -> (10, 121.2) projected
  line L43 (10, 121.2) -> (13, 121.2) projected
  line L44 (13, 121.2) -> (13, 120) projected
  line L45 (13, 120) -> (23, 120) projected
  line L46 (23, 120) -> (23, 116.4) projected
  line L47 (23, 116.4) -> (13, 116.4) projected
  line L48 (13, 116.4) -> (13, 115.2) projected
  line L49 (13, 115.2) -> (10, 115.2) projected
  line L50 (10, 115.2) -> (10, 116.4) projected
  line L51 (10, 116.4) -> (0, 116.4) projected
  line L52 (0, 116.4) -> (0, 110) projected
  line L53 (-4, 110) -> (0, 110) projected
  line L54 (-4, 106) -> (-4, 110) projected
  line L55 (0, 106) -> (-4, 106) projected
  line L56 (0, 106) -> (0, 43.6) projected
  line L57 (0, 43.6) -> (10, 43.6) projected
  line L58 (10, 43.6) -> (10, 44.8) projected
  line L59 (10, 44.8) -> (13, 44.8) projected
  line L60 (13, 44.8) -> (13, 43.6) projected
  line L61 (13, 43.6) -> (23, 43.6) projected
  line L62 (23, 43.6) -> (23, 40) projected
  line L63 (23, 40) -> (13, 40) projected
  line L64 (13, 40) -> (13, 38.8) projected
  line L65 (13, 38.8) -> (10, 38.8) projected
  line L66 (10, 38.8) -> (10, 40) projected
  line L67 (10, 40) -> (0, 40) projected
  line L68 (0, 40) -> (0, 24) projected
  line L69 (-4, 24) -> (0, 24) projected
  line L70 (-4, 20) -> (-4, 24) projected
  line L71 (0, 20) -> (-4, 20) projected
  line L72 (0, 20) -> (0, 0) projected
  line L73 (0, 0) -> (25, 0) projected
  line L74 (25, -5) -> (25, 0) projected
  line L75 (45, -5) -> (25, -5) projected
  line L76 (45, 0) -> (45, -5) projected
  line L77 (45, 0) -> (70, 0) projected
  line L78 (70, 0) -> (70, 10) projected
  line L79 (70, 10) -> (68.8, 10) projected
  line L80 (68.8, 10) -> (68.8, 13) projected
  line L81 (68.8, 13) -> (70, 13) projected
  line L82 (70, 13) -> (70, 23) projected
  line L83 (70, 23) -> (73.6, 23) projected
  line L84 (73.6, 23) -> (73.6, 13) projected
  line L85 (73.6, 13) -> (74.8, 13) projected
  line L86 (74.8, 13) -> (74.8, 10) projected
  line L87 (74.8, 10) -> (73.6, 10) projected
  line L88 (73.6, 10) -> (73.6, 0) projected
  line L89 (73.6, 0) -> (134.1, 0) projected
  line L90 (134.1, -5) -> (134.1, 0) projected
  line L91 (154.1, -5) -> (134.1, -5) projected
  line L92 (154.1, 0) -> (154.1, -5) projected
  line L93 (154.1, 0) -> (214.6, 0) projected
  line L94 (214.6, 0) -> (214.6, 10) projected
  line L95 (214.6, 10) -> (213.4, 10) projected
  line L96 (213.4, 10) -> (213.4, 13) projected
  line L97 (213.4, 13) -> (214.6, 13) projected
  line L98 (214.6, 13) -> (214.6, 23) projected
  line L99 (214.6, 23) -> (218.2, 23) projected
  line L100 (218.2, 23) -> (218.2, 13) projected
  line L101 (218.2, 13) -> (219.4, 13) projected
  line L102 (219.4, 13) -> (219.4, 10) projected
  line L103 (219.4, 10) -> (218.2, 10) projected
  line L104 (218.2, 10) -> (218.2, 0) projected
  line L105 (218.2, 0) -> (277.1516, 0) projected
  line L106 (277.1516, -5) -> (277.1516, 0) projected
  line L107 (297.1516, -5) -> (277.1516, -5) projected
  line L108 (297.1516, 0) -> (297.1516, -5) projected
  line L109 (297.1516, 0) -> (366.4, 0) projected
  line L110 (366.4, 0) -> (366.4, 10) projected
  line L111 (366.4, 10) -> (365.2, 10) projected
  line L112 (365.2, 10) -> (365.2, 13) projected
  line L113 (365.2, 13) -> (366.4, 13) projected
  line L114 (366.4, 13) -> (366.4, 23) projected
  line L115 (366.4, 23) -> (370, 23) projected
  line L116 (370, 23) -> (370, 13) projected
  line L117 (370, 13) -> (371.2, 13) projected
  line L118 (371.2, 13) -> (371.2, 10) projected
  line L119 (371.2, 10) -> (370, 10) projected
  circle A0 centre (93, 90) radius 25.5 projected
  circle A1 centre (202, 90) radius 25.5 projected
  circle A2 centre (311, 90) radius 18 projected
  circle A3 centre (402, 90) radius 18 projected
  circle A4 centre (93, 90) radius 25.5
  circle A5 centre (93, 90) radius 40.5
  circle A6 centre (93, 125) radius 1.5
  circle A7 centre (62.6891, 72.5) radius 1.5
  circle A8 centre (123.3109, 72.5) radius 1.5
  line L120 (0, 40) -> (0, 24) projected
  circle A9 centre (202, 90) radius 25.5
  circle A10 centre (202, 90) radius 40.5
  circle A11 centre (202, 125) radius 1.5
  circle A12 centre (171.6891, 72.5) radius 1.5
  circle A13 centre (232.3109, 72.5) radius 1.5
  circle A14 centre (311, 90) radius 32
  circle A15 centre (311, 117) radius 1.8
  circle A16 centre (287.6173, 76.5) radius 1.8
  circle A17 centre (334.3827, 76.5) radius 1.8
  circle A18 centre (311, 90) radius 27
  circle A19 centre (402, 90) radius 32
  circle A20 centre (402, 117) radius 1.8
  circle A21 centre (378.6173, 76.5) radius 1.8
  circle A22 centre (425.3827, 76.5) radius 1.8
  circle A23 centre (402, 90) radius 27
  point P0 (0, 0)
  point P1 (93, 90)
  point P2 (0, 124.9359)
  point P3 (202, 90)
  point P4 (311, 90)
  point P5 (0, 117)
  point P6 (402, 90)
  dimension "d81" = 35
  dimension "d82" = 360
  dimension "d83" = 3
  dimension "d87" = 35
  dimension "d88" = 360
  dimension "d89" = 3
  dimension "d93" = 3.6
  dimension "d94" = 27
  dimension "d95" = 360
  dimension "d102" = 3.6
  dimension "d103" = 27
  dimension "d104" = 360
extrude "Extrusión8" cut sketch "Boceto7" against normal up to surface (4 mm away) contours A6 | A7 | A8 | A11 | A12 | A13 | A15 A18 | A18 A15 | A18 A16 | A16 A18 | A18 A17 | A17 A18 | A20 A23 | A23 A20 | A23 A21 | A21 A23 | A23 A22 | A22 A23
equation "\"d83\" = d84"
equation "\"d89\" = d90"
equation "\"d80\" = d84"
equation "\"d84\" = 3"
equation "\"d86\" = d90"
equation "\"d90\" = 3"
equation "\"d105\" = 3"
equation "\"d106\" = 3"
properties part number "P2"
